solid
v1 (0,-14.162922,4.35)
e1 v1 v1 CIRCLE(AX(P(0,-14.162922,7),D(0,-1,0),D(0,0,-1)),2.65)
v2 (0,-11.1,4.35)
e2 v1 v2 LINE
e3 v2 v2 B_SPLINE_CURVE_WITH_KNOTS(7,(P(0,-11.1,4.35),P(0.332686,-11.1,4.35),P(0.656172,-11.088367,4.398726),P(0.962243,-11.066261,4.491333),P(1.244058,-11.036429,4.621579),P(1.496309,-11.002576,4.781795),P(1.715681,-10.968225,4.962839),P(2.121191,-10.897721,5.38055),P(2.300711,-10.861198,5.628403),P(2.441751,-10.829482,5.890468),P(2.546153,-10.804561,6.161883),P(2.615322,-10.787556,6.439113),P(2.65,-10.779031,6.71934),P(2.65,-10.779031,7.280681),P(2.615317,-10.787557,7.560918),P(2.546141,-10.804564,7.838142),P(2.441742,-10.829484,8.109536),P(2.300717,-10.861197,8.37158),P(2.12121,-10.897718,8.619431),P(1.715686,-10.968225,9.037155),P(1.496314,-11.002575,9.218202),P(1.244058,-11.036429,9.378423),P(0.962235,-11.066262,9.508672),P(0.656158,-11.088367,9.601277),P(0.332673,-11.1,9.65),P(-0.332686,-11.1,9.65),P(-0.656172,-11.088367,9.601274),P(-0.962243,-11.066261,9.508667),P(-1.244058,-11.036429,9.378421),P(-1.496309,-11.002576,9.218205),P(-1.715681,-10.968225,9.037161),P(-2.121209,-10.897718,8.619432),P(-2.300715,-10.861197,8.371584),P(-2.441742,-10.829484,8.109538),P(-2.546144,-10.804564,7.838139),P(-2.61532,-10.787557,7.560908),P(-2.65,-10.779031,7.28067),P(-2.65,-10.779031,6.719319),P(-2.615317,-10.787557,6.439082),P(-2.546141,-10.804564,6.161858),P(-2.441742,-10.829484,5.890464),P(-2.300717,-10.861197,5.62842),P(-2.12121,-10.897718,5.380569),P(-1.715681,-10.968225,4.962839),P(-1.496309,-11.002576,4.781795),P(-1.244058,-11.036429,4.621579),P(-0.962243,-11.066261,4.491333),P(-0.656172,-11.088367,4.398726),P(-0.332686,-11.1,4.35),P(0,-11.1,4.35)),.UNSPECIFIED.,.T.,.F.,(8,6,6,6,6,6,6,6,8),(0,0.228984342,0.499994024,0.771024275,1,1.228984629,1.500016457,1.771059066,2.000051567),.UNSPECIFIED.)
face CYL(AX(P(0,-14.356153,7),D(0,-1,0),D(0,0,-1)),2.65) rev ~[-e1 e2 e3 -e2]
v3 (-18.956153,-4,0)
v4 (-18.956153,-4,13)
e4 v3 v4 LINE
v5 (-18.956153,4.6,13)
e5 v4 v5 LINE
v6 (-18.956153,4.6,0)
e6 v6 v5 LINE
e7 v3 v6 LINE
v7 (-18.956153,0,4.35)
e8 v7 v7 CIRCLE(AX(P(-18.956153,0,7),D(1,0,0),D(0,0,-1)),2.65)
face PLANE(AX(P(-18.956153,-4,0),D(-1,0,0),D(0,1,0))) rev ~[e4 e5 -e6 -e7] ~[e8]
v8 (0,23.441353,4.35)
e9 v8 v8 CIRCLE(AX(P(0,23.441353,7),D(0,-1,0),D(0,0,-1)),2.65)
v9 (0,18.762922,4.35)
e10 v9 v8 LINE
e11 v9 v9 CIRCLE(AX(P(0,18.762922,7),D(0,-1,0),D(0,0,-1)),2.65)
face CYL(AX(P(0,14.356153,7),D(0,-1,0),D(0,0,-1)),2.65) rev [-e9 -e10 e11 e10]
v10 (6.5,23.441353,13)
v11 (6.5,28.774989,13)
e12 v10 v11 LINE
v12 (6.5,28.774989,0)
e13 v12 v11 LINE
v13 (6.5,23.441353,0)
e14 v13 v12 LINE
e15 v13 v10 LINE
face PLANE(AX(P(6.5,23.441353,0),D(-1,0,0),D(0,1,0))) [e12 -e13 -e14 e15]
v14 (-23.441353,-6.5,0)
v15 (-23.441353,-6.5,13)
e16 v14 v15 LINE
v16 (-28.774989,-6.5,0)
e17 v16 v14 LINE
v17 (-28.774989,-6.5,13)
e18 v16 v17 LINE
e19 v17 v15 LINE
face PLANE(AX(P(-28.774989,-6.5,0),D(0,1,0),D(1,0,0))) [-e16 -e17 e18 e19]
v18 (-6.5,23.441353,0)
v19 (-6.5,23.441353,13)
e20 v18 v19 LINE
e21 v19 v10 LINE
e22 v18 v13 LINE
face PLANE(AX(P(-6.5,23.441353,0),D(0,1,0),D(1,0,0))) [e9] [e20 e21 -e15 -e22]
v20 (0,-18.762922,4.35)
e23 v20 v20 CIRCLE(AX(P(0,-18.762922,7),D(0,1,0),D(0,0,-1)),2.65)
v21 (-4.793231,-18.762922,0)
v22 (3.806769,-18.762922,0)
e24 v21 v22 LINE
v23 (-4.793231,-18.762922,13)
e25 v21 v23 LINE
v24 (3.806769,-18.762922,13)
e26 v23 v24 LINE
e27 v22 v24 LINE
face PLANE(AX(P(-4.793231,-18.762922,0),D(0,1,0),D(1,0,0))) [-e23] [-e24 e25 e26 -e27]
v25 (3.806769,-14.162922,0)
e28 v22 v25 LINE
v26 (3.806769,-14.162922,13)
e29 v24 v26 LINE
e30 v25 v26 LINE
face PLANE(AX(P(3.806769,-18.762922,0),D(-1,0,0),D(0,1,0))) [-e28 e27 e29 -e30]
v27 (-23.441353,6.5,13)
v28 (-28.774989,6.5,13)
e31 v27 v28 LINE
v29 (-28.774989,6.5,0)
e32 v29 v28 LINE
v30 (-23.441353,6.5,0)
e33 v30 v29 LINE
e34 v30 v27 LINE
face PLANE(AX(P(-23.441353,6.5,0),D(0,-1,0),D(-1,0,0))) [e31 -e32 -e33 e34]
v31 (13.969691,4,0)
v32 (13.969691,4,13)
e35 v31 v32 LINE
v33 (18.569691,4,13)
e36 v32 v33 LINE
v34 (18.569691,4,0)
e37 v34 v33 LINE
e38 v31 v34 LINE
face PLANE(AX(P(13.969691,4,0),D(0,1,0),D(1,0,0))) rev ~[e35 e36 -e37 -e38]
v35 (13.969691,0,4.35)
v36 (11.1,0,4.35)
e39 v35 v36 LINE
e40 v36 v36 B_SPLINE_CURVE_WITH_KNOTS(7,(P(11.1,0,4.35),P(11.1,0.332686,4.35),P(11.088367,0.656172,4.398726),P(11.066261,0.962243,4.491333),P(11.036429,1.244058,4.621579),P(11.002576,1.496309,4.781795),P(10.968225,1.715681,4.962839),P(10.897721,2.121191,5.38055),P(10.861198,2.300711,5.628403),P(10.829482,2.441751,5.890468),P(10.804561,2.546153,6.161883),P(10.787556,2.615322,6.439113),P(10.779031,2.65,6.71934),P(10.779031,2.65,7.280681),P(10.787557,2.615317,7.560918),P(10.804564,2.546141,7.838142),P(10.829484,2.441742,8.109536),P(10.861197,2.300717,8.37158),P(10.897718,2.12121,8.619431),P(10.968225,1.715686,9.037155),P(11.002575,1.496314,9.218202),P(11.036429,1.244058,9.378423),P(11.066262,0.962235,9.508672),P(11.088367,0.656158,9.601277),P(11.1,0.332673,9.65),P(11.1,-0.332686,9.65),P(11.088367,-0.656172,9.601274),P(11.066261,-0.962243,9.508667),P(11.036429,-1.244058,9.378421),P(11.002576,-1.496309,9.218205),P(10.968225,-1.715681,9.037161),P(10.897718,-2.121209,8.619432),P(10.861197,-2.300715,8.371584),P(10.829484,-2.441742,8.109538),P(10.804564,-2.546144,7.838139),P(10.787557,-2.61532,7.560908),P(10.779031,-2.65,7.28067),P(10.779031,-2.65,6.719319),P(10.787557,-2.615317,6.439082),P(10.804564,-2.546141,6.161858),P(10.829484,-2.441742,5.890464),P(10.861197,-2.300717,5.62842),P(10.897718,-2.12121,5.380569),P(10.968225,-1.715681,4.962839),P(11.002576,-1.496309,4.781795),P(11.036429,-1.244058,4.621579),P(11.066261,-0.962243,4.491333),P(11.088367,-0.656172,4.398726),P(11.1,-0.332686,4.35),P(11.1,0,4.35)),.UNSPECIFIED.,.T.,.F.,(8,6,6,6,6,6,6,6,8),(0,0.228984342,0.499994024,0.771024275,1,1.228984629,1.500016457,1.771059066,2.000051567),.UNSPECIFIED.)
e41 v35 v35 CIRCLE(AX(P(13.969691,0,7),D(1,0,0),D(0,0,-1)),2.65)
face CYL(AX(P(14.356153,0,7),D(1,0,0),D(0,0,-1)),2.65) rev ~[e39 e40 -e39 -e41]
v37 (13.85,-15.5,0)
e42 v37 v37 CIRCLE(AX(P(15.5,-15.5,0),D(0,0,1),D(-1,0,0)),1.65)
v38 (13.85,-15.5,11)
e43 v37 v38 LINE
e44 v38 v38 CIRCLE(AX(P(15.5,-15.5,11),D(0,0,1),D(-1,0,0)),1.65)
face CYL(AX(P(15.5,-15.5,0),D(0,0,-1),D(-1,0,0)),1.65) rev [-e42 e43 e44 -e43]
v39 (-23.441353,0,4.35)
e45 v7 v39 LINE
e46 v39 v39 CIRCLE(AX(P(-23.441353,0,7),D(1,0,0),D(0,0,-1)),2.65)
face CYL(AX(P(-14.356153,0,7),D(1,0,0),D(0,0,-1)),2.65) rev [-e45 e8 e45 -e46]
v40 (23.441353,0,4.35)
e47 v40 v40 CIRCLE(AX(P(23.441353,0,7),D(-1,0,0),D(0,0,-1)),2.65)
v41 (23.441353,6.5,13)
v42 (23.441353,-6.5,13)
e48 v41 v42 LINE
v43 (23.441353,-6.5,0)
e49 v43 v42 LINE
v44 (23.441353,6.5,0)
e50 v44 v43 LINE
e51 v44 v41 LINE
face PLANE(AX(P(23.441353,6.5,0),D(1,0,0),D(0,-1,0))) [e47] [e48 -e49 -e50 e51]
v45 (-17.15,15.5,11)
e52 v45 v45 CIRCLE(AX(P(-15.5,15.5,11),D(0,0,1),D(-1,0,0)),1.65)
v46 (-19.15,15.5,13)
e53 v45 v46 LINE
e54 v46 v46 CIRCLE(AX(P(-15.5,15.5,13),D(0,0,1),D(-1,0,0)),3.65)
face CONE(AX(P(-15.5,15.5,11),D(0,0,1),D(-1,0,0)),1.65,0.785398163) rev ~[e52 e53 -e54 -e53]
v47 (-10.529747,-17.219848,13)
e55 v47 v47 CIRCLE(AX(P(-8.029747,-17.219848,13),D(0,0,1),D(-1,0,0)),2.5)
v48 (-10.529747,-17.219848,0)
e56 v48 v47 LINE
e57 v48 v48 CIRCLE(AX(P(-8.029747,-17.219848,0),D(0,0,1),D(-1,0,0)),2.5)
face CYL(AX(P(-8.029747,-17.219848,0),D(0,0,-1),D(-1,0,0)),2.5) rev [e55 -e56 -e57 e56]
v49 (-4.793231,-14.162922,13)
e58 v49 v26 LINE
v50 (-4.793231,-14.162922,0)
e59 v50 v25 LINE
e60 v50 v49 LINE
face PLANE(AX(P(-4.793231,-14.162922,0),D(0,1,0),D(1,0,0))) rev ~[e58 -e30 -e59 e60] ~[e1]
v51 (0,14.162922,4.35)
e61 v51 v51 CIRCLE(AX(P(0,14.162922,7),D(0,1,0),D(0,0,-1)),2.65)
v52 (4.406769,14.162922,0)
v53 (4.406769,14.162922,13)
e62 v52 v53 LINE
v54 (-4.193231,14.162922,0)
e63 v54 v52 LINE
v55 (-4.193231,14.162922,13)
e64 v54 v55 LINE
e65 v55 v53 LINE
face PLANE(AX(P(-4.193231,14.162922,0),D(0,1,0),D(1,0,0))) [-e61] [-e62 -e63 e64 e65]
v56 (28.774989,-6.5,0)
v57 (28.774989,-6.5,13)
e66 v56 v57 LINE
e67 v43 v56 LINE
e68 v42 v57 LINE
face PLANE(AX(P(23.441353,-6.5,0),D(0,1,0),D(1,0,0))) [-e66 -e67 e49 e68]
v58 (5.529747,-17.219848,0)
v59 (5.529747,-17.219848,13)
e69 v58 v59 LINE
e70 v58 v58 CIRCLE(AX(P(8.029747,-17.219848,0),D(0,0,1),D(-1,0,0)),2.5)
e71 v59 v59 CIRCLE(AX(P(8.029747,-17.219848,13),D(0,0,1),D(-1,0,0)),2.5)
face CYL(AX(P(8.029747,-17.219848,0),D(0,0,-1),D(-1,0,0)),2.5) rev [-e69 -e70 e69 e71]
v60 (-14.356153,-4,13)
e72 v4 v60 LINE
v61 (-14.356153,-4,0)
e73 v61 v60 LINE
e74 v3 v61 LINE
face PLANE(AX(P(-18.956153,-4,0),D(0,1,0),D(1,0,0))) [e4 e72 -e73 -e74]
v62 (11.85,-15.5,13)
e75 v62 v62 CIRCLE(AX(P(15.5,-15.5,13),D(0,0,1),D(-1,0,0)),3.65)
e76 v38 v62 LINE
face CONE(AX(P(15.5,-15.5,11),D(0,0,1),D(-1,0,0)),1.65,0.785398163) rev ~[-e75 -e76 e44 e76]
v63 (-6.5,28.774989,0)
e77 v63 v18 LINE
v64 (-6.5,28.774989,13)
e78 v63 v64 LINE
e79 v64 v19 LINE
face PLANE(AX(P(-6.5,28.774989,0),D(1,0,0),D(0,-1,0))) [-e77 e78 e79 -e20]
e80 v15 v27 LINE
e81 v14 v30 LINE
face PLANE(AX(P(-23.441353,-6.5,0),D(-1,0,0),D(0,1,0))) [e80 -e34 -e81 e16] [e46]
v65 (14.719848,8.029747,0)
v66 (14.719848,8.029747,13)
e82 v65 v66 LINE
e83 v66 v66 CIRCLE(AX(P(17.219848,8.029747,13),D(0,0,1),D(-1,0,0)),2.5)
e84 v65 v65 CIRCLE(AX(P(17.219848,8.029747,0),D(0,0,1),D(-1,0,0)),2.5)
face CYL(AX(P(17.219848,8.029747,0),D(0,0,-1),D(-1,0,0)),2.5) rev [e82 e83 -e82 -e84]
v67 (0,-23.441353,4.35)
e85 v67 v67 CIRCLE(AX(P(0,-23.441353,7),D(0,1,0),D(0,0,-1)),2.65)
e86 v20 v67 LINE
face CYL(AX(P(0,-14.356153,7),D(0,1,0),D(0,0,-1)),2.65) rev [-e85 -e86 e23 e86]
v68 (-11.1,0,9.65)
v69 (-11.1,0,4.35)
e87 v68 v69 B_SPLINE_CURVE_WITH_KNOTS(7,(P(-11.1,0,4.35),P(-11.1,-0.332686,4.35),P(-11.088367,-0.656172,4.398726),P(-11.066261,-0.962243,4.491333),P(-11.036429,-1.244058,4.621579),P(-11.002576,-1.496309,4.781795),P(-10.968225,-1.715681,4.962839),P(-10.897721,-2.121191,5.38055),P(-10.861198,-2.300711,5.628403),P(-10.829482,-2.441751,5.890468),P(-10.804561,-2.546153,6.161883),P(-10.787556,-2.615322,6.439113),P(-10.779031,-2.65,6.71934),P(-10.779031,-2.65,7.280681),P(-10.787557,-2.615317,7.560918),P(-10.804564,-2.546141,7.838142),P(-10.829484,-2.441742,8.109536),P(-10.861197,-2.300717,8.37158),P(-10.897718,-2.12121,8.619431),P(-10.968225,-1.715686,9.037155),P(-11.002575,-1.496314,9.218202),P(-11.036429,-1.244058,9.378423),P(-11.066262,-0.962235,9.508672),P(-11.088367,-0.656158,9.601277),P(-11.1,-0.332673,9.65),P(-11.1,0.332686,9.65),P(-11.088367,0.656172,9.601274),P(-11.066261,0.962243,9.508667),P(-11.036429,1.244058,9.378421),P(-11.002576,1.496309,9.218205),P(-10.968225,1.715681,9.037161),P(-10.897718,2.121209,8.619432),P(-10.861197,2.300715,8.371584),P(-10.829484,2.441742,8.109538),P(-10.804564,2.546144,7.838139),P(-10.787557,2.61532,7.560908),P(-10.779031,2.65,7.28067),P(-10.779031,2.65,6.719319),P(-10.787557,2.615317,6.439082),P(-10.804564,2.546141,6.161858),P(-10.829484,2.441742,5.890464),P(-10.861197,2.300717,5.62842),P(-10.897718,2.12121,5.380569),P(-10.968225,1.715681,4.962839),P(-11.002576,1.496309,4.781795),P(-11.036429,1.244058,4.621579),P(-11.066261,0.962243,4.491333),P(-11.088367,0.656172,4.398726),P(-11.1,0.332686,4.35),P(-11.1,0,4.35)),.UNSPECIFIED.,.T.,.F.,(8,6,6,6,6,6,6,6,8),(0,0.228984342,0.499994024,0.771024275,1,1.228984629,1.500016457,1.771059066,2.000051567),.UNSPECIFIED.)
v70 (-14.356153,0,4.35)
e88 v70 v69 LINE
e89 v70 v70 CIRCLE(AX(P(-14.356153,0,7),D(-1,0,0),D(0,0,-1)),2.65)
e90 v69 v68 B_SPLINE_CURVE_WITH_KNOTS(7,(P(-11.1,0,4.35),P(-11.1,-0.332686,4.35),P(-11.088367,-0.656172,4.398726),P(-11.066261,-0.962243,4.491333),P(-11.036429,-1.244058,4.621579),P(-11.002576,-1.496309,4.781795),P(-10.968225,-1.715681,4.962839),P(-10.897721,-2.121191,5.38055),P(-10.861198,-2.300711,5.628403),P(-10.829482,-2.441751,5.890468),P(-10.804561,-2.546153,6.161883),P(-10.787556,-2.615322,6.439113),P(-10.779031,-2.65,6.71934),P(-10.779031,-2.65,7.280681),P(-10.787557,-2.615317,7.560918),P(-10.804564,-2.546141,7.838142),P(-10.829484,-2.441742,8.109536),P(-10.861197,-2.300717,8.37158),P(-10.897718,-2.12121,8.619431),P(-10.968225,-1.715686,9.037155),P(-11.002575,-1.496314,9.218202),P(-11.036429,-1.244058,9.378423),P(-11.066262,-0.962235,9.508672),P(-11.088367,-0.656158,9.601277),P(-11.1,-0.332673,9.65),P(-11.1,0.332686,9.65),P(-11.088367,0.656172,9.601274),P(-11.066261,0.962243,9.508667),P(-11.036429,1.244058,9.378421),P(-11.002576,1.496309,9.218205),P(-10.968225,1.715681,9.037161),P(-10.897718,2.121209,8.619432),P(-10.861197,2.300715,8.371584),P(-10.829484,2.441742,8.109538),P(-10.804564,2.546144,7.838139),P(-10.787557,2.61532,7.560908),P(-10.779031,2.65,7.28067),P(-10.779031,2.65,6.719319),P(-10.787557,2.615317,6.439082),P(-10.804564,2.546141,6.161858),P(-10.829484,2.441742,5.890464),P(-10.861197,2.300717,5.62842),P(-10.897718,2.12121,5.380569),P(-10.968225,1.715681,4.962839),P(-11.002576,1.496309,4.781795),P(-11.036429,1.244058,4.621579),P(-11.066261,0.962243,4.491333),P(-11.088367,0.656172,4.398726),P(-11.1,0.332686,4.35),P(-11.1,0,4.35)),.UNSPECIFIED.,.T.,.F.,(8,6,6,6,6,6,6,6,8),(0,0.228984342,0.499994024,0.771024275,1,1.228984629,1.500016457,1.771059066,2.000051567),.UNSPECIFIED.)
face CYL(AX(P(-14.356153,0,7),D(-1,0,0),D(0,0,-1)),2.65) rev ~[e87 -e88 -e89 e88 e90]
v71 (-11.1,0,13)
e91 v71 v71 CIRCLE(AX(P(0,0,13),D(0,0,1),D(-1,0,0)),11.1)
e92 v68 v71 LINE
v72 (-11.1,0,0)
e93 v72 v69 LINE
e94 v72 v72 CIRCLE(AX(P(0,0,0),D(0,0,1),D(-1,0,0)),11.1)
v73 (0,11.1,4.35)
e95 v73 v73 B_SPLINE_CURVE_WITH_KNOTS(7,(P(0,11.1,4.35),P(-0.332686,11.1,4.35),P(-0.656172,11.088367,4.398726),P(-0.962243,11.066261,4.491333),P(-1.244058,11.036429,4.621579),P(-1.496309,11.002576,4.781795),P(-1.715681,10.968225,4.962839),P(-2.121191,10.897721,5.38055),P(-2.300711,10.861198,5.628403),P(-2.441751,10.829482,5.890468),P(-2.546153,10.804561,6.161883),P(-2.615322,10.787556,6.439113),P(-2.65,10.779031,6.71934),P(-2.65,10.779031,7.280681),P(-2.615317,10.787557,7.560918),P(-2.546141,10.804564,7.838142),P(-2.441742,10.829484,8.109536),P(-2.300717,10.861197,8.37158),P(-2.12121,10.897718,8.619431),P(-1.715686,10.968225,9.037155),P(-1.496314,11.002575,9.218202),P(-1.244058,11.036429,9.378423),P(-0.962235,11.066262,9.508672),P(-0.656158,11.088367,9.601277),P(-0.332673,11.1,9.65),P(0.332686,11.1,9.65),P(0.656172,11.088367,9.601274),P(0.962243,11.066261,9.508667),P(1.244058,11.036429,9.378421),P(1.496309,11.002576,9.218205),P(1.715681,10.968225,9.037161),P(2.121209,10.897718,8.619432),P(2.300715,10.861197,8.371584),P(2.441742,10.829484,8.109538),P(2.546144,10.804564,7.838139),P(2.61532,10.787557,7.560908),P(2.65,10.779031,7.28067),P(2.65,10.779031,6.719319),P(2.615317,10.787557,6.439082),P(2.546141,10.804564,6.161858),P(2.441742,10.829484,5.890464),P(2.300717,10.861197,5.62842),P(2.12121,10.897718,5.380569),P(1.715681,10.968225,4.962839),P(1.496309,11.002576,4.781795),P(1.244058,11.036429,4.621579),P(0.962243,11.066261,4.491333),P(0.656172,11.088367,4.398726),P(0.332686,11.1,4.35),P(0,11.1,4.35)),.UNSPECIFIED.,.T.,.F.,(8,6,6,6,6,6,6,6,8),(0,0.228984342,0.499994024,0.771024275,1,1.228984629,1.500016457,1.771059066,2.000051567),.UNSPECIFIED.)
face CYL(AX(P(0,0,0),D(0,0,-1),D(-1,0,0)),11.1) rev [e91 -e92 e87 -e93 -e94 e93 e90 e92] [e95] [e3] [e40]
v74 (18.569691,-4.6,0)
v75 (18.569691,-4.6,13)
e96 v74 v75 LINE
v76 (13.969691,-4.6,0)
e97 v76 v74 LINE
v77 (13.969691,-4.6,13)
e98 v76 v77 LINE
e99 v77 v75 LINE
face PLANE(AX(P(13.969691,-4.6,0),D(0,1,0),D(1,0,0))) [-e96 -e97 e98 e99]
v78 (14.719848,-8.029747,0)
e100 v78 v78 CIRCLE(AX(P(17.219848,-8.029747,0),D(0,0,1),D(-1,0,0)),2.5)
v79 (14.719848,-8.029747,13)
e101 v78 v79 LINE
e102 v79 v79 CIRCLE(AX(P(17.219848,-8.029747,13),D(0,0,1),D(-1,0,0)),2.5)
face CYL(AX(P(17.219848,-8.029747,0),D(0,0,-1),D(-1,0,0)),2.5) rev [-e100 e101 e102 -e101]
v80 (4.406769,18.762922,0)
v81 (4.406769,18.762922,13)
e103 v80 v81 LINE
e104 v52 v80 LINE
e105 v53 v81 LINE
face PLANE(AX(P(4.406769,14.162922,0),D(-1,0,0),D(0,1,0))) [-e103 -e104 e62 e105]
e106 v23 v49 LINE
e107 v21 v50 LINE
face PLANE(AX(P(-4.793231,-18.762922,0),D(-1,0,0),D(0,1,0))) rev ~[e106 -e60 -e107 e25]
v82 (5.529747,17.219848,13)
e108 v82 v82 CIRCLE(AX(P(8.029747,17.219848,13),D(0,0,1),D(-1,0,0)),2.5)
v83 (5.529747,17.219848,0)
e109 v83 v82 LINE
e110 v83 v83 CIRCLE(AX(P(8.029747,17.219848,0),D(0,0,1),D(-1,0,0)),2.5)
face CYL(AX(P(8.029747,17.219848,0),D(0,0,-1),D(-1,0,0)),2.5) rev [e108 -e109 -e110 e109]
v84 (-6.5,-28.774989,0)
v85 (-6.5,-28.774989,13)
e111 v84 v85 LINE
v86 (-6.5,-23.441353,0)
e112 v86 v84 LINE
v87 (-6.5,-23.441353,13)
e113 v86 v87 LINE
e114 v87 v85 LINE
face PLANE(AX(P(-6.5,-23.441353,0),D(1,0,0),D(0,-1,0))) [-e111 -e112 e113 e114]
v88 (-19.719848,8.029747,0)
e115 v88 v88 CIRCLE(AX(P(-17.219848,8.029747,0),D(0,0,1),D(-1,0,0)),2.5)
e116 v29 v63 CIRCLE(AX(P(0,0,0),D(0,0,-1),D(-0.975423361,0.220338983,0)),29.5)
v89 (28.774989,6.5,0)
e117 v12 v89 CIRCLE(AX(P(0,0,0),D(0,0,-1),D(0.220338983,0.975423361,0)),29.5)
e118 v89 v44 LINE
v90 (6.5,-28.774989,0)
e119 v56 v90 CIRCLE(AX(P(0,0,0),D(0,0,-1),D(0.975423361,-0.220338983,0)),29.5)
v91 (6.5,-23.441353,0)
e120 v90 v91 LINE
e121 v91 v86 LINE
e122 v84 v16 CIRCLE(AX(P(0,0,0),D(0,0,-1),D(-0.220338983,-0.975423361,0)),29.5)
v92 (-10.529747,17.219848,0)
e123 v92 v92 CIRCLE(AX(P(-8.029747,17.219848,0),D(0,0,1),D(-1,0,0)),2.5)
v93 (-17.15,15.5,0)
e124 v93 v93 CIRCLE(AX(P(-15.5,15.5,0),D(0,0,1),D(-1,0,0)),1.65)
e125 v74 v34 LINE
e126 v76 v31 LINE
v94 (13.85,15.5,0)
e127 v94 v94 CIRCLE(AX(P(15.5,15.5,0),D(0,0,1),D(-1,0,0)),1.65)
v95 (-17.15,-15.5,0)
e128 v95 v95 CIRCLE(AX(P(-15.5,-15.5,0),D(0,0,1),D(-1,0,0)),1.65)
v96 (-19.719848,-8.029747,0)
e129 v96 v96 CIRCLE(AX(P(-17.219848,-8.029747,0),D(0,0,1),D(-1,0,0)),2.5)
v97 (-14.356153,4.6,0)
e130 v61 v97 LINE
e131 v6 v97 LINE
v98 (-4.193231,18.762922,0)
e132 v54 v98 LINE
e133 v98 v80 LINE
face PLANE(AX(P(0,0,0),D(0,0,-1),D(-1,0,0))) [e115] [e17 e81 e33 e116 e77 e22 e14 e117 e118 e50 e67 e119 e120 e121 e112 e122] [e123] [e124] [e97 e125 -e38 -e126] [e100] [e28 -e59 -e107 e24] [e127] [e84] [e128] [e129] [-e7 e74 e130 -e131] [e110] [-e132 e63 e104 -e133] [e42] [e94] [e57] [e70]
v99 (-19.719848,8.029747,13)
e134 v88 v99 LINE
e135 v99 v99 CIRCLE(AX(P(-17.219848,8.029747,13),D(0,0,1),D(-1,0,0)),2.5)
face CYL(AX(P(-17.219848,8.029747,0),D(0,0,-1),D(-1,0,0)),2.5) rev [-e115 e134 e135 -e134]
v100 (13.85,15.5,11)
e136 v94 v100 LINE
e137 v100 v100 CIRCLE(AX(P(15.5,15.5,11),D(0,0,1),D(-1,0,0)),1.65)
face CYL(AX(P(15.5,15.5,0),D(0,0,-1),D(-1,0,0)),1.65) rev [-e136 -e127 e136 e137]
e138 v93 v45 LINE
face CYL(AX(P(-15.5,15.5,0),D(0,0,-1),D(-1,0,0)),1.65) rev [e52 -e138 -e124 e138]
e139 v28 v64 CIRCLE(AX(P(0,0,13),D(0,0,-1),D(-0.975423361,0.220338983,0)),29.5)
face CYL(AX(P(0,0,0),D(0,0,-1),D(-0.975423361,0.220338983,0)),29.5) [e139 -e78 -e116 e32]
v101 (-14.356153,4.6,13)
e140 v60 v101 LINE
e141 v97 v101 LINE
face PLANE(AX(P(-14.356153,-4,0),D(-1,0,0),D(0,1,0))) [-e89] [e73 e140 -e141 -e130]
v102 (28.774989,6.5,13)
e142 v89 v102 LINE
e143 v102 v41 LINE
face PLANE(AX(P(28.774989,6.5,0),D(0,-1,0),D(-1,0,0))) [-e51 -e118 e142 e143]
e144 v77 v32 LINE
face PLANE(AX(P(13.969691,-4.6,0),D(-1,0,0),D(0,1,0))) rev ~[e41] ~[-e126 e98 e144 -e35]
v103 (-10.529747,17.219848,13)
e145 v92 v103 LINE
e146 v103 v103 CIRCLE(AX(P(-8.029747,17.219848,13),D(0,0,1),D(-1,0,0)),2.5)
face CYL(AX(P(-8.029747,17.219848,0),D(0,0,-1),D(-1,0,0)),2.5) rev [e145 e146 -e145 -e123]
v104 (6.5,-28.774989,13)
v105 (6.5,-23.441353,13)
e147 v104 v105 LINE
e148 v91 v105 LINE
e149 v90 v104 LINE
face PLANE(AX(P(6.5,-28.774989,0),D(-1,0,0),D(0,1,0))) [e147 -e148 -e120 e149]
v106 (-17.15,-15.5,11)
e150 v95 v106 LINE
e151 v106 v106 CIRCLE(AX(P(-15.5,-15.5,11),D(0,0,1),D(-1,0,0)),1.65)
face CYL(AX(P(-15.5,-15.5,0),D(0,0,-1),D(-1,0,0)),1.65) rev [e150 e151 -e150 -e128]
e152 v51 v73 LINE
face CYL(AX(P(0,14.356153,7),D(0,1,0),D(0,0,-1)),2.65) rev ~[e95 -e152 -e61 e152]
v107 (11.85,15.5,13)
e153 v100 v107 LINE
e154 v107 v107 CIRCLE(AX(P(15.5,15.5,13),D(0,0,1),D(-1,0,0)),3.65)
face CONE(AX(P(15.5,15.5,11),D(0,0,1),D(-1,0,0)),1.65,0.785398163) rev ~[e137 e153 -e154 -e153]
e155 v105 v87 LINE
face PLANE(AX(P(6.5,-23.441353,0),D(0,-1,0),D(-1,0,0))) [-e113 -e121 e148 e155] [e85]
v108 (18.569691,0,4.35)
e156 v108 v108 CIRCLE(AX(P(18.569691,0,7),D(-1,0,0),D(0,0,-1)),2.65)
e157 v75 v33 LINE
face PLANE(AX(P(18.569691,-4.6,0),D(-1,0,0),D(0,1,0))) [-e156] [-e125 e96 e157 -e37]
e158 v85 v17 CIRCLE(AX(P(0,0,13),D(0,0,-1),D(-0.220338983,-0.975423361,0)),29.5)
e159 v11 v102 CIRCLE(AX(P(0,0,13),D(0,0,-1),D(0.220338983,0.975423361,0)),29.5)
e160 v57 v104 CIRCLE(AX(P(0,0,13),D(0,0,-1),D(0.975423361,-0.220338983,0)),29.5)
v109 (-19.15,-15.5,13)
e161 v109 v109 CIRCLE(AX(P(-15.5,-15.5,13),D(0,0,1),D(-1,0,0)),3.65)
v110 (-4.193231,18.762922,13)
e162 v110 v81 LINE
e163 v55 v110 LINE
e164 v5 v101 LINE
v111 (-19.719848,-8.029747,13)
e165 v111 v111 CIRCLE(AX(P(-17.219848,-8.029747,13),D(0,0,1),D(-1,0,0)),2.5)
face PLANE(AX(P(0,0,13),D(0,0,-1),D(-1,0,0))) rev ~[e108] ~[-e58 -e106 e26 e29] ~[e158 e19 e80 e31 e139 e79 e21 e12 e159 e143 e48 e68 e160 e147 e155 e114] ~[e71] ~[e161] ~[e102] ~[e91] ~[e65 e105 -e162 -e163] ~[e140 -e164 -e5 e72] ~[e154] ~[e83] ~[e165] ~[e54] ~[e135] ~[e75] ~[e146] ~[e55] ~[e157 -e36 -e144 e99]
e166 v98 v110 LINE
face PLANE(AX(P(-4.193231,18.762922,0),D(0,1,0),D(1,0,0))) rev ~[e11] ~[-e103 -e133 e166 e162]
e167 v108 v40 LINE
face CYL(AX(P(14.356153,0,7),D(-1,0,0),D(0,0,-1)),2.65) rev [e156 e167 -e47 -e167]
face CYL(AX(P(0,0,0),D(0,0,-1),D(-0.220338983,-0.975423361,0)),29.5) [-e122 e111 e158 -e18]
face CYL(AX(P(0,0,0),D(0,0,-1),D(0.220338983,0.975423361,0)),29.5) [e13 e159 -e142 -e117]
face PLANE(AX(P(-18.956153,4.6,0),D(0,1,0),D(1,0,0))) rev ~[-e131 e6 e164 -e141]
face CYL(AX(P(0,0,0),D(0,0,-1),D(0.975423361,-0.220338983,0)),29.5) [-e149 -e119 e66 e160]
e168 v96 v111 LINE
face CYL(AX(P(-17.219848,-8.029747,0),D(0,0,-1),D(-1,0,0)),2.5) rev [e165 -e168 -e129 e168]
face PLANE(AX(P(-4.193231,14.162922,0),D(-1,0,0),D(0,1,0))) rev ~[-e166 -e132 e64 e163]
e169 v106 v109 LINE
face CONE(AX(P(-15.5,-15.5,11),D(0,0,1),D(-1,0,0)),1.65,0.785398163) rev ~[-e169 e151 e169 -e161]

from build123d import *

# Parameters (mm, degrees)
ESQUISSE1_R                         = 11.1
ESQUISSE1_R_2                       = 1.65
ESQUISSE1_R_3                       = 2.5
ESQUISSE1_W                         = 4.6
ESQUISSE1_H                         = 8.6
ESQUISSE1_W_2                       = 8.6
ESQUISSE1_H_2                       = 4.6
BOSS_EXTRU_1_DEPTH                  = 13
CHANFREIN1_SIZE                     = 2
ENL_V_MAT_EXTRU_1_REACH             = 55.454
ESQUISSE2_R                         = 2.65
ENL_V_MAT_EXTRU_1_DIRECTION_2_DEPTH = 54.453675757
R_P_TITION_CIRCULAIRE1_COUNT        = 4


with BuildPart() as part:
    # Esquisse1 → Boss.-Extru.1 (new body)
    with BuildSketch(Plane.XY):
        with BuildLine():
            Line((-23.441352507, -6.5), (-23.441352507, 6.5))
            Line((-23.441352507, 6.5), (-28.77498914, 6.5))
            ThreePointArc((-28.77498914, 6.5), (-20.859650045, 20.859650045), (-6.5, 28.77498914))
            Line((-6.5, 28.77498914), (-6.5, 23.441352507))
            Line((-6.5, 23.441352507), (6.5, 23.441352507))
            Line((6.5, 23.441352507), (6.5, 28.77498914))
            ThreePointArc((6.5, 28.77498914), (20.859650045, 20.859650045), (28.77498914, 6.5))
            Line((28.77498914, 6.5), (23.441352507, 6.5))
            Line((23.441352507, 6.5), (23.441352507, -6.5))
            Line((23.441352507, -6.5), (28.77498914, -6.5))
            ThreePointArc((28.77498914, -6.5), (20.859650045, -20.859650045), (6.5, -28.77498914))
            Line((6.5, -28.77498914), (6.5, -23.441352507))
            Line((6.5, -23.441352507), (-6.5, -23.441352507))
            Line((-6.5, -23.441352507), (-6.5, -28.77498914))
            ThreePointArc((-6.5, -28.77498914), (-20.859650045, -20.859650045), (-28.77498914, -6.5))
            Line((-28.77498914, -6.5), (-23.441352507, -6.5))
        make_face()
        with Locations(Location((0, 0, 0), (0, 0, 180))):
            Circle(ESQUISSE1_R, mode=Mode.SUBTRACT)
        with Locations(Location((-15.5, 15.5, 0), (0, 0, 180))):
            Circle(ESQUISSE1_R_2, mode=Mode.SUBTRACT)
        with Locations(Location((15.5, 15.5, 0), (0, 0, 180))):
            Circle(ESQUISSE1_R_2, mode=Mode.SUBTRACT)
        with Locations(Location((15.5, -15.5, 0), (0, 0, 180))):
            Circle(ESQUISSE1_R_2, mode=Mode.SUBTRACT)
        with Locations(Location((-15.5, -15.5, 0), (0, 0, 180))):
            Circle(ESQUISSE1_R_2, mode=Mode.SUBTRACT)
        with Locations(Location((-8.029746973, 17.219847954, 0), (0, 0, 180))):
            Circle(ESQUISSE1_R_3, mode=Mode.SUBTRACT)
        with Locations(Location((8.029746973, 17.219847954, 0), (0, 0, 180))):
            Circle(ESQUISSE1_R_3, mode=Mode.SUBTRACT)
        with Locations(Location((17.219847954, 8.029746973, 0), (0, 0, 180))):
            Circle(ESQUISSE1_R_3, mode=Mode.SUBTRACT)
        with Locations(Location((17.219847954, -8.029746973, 0), (0, 0, 180))):
            Circle(ESQUISSE1_R_3, mode=Mode.SUBTRACT)
        with Locations(Location((8.029746973, -17.219847954, 0), (0, 0, 180))):
            Circle(ESQUISSE1_R_3, mode=Mode.SUBTRACT)
        with Locations(Location((-8.029746973, -17.219847954, 0), (0, 0, 180))):
            Circle(ESQUISSE1_R_3, mode=Mode.SUBTRACT)
        with Locations(Location((-17.219847954, -8.029746973, 0), (0, 0, 180))):
            Circle(ESQUISSE1_R_3, mode=Mode.SUBTRACT)
        with Locations(Location((-17.219847954, 8.029746973, 0), (0, 0, 180))):
            Circle(ESQUISSE1_R_3, mode=Mode.SUBTRACT)
        with Locations((-16.656153343, 0.3)):
            Rectangle(ESQUISSE1_W, ESQUISSE1_H, mode=Mode.SUBTRACT)
        with Locations((0.106768766, 16.462922109)):
            Rectangle(ESQUISSE1_W_2, ESQUISSE1_H_2, mode=Mode.SUBTRACT)
        with Locations((16.269690876, -0.3)):
            Rectangle(ESQUISSE1_W, ESQUISSE1_H, mode=Mode.SUBTRACT)
        with Locations((-0.493231234, -16.462922109)):
            Rectangle(ESQUISSE1_W_2, ESQUISSE1_H_2, mode=Mode.SUBTRACT)
    extrude(amount=BOSS_EXTRU_1_DEPTH)

    # Chanfrein1
    chanfrein1_edges = [part.edges().sort_by_distance(p)[0] for p in [
        (-13.85, 15.5, 13),
        (17.15, 15.5, 13),
        (17.15, -15.5, 13),
        (-13.85, -15.5, 13),
    ]]
    chamfer(chanfrein1_edges, length=CHANFREIN1_SIZE)

    # Esquisse2 → Enlèv. mat.-Extru.1 (cut, up to next)
    with BuildSketch(Plane.ZY.offset(14.356153343), mode=Mode.PRIVATE) as enl_v_mat_extru_1_sk1:
        with Locations(Location((7, 0, 0), (0, 0, 180))):
            Circle(ESQUISSE2_R)
    enl_v_mat_extru_1_tool1 = extrude(enl_v_mat_extru_1_sk1.sketch, amount=-ENL_V_MAT_EXTRU_1_REACH, mode=Mode.PRIVATE) & part.part
    enl_v_mat_extru_1 = enl_v_mat_extru_1_tool1.solids().sort_by_distance((-14.356153, 0, 7))[0]
    add(enl_v_mat_extru_1, mode=Mode.SUBTRACT)

    # Esquisse2 → Enlèv. mat.-Extru.1 direction 2 (cut)
    with BuildSketch(Plane.ZY.offset(14.356153343)):
        with Locations(Location((7, 0, 0), (0, 0, 180))):
            Circle(ESQUISSE2_R)
    enl_v_mat_extru_1_direction_2 = extrude(amount=ENL_V_MAT_EXTRU_1_DIRECTION_2_DEPTH, mode=Mode.SUBTRACT)

    # Répétition circulaire1: Enlèv. mat.-Extru.1, Enlèv. mat.-Extru.1 direction 2 ×4 about axis
    r_p_tition_circulaire1_axis = Axis((0, 0, 0), (0, 0, -1))
    add([enl_v_mat_extru_1.rotate(r_p_tition_circulaire1_axis, i * 360 / R_P_TITION_CIRCULAIRE1_COUNT) for i in range(1, R_P_TITION_CIRCULAIRE1_COUNT)], mode=Mode.SUBTRACT)
    add([enl_v_mat_extru_1_direction_2.rotate(r_p_tition_circulaire1_axis, i * 360 / R_P_TITION_CIRCULAIRE1_COUNT) for i in range(1, R_P_TITION_CIRCULAIRE1_COUNT)], mode=Mode.SUBTRACT)


solid = part.part
